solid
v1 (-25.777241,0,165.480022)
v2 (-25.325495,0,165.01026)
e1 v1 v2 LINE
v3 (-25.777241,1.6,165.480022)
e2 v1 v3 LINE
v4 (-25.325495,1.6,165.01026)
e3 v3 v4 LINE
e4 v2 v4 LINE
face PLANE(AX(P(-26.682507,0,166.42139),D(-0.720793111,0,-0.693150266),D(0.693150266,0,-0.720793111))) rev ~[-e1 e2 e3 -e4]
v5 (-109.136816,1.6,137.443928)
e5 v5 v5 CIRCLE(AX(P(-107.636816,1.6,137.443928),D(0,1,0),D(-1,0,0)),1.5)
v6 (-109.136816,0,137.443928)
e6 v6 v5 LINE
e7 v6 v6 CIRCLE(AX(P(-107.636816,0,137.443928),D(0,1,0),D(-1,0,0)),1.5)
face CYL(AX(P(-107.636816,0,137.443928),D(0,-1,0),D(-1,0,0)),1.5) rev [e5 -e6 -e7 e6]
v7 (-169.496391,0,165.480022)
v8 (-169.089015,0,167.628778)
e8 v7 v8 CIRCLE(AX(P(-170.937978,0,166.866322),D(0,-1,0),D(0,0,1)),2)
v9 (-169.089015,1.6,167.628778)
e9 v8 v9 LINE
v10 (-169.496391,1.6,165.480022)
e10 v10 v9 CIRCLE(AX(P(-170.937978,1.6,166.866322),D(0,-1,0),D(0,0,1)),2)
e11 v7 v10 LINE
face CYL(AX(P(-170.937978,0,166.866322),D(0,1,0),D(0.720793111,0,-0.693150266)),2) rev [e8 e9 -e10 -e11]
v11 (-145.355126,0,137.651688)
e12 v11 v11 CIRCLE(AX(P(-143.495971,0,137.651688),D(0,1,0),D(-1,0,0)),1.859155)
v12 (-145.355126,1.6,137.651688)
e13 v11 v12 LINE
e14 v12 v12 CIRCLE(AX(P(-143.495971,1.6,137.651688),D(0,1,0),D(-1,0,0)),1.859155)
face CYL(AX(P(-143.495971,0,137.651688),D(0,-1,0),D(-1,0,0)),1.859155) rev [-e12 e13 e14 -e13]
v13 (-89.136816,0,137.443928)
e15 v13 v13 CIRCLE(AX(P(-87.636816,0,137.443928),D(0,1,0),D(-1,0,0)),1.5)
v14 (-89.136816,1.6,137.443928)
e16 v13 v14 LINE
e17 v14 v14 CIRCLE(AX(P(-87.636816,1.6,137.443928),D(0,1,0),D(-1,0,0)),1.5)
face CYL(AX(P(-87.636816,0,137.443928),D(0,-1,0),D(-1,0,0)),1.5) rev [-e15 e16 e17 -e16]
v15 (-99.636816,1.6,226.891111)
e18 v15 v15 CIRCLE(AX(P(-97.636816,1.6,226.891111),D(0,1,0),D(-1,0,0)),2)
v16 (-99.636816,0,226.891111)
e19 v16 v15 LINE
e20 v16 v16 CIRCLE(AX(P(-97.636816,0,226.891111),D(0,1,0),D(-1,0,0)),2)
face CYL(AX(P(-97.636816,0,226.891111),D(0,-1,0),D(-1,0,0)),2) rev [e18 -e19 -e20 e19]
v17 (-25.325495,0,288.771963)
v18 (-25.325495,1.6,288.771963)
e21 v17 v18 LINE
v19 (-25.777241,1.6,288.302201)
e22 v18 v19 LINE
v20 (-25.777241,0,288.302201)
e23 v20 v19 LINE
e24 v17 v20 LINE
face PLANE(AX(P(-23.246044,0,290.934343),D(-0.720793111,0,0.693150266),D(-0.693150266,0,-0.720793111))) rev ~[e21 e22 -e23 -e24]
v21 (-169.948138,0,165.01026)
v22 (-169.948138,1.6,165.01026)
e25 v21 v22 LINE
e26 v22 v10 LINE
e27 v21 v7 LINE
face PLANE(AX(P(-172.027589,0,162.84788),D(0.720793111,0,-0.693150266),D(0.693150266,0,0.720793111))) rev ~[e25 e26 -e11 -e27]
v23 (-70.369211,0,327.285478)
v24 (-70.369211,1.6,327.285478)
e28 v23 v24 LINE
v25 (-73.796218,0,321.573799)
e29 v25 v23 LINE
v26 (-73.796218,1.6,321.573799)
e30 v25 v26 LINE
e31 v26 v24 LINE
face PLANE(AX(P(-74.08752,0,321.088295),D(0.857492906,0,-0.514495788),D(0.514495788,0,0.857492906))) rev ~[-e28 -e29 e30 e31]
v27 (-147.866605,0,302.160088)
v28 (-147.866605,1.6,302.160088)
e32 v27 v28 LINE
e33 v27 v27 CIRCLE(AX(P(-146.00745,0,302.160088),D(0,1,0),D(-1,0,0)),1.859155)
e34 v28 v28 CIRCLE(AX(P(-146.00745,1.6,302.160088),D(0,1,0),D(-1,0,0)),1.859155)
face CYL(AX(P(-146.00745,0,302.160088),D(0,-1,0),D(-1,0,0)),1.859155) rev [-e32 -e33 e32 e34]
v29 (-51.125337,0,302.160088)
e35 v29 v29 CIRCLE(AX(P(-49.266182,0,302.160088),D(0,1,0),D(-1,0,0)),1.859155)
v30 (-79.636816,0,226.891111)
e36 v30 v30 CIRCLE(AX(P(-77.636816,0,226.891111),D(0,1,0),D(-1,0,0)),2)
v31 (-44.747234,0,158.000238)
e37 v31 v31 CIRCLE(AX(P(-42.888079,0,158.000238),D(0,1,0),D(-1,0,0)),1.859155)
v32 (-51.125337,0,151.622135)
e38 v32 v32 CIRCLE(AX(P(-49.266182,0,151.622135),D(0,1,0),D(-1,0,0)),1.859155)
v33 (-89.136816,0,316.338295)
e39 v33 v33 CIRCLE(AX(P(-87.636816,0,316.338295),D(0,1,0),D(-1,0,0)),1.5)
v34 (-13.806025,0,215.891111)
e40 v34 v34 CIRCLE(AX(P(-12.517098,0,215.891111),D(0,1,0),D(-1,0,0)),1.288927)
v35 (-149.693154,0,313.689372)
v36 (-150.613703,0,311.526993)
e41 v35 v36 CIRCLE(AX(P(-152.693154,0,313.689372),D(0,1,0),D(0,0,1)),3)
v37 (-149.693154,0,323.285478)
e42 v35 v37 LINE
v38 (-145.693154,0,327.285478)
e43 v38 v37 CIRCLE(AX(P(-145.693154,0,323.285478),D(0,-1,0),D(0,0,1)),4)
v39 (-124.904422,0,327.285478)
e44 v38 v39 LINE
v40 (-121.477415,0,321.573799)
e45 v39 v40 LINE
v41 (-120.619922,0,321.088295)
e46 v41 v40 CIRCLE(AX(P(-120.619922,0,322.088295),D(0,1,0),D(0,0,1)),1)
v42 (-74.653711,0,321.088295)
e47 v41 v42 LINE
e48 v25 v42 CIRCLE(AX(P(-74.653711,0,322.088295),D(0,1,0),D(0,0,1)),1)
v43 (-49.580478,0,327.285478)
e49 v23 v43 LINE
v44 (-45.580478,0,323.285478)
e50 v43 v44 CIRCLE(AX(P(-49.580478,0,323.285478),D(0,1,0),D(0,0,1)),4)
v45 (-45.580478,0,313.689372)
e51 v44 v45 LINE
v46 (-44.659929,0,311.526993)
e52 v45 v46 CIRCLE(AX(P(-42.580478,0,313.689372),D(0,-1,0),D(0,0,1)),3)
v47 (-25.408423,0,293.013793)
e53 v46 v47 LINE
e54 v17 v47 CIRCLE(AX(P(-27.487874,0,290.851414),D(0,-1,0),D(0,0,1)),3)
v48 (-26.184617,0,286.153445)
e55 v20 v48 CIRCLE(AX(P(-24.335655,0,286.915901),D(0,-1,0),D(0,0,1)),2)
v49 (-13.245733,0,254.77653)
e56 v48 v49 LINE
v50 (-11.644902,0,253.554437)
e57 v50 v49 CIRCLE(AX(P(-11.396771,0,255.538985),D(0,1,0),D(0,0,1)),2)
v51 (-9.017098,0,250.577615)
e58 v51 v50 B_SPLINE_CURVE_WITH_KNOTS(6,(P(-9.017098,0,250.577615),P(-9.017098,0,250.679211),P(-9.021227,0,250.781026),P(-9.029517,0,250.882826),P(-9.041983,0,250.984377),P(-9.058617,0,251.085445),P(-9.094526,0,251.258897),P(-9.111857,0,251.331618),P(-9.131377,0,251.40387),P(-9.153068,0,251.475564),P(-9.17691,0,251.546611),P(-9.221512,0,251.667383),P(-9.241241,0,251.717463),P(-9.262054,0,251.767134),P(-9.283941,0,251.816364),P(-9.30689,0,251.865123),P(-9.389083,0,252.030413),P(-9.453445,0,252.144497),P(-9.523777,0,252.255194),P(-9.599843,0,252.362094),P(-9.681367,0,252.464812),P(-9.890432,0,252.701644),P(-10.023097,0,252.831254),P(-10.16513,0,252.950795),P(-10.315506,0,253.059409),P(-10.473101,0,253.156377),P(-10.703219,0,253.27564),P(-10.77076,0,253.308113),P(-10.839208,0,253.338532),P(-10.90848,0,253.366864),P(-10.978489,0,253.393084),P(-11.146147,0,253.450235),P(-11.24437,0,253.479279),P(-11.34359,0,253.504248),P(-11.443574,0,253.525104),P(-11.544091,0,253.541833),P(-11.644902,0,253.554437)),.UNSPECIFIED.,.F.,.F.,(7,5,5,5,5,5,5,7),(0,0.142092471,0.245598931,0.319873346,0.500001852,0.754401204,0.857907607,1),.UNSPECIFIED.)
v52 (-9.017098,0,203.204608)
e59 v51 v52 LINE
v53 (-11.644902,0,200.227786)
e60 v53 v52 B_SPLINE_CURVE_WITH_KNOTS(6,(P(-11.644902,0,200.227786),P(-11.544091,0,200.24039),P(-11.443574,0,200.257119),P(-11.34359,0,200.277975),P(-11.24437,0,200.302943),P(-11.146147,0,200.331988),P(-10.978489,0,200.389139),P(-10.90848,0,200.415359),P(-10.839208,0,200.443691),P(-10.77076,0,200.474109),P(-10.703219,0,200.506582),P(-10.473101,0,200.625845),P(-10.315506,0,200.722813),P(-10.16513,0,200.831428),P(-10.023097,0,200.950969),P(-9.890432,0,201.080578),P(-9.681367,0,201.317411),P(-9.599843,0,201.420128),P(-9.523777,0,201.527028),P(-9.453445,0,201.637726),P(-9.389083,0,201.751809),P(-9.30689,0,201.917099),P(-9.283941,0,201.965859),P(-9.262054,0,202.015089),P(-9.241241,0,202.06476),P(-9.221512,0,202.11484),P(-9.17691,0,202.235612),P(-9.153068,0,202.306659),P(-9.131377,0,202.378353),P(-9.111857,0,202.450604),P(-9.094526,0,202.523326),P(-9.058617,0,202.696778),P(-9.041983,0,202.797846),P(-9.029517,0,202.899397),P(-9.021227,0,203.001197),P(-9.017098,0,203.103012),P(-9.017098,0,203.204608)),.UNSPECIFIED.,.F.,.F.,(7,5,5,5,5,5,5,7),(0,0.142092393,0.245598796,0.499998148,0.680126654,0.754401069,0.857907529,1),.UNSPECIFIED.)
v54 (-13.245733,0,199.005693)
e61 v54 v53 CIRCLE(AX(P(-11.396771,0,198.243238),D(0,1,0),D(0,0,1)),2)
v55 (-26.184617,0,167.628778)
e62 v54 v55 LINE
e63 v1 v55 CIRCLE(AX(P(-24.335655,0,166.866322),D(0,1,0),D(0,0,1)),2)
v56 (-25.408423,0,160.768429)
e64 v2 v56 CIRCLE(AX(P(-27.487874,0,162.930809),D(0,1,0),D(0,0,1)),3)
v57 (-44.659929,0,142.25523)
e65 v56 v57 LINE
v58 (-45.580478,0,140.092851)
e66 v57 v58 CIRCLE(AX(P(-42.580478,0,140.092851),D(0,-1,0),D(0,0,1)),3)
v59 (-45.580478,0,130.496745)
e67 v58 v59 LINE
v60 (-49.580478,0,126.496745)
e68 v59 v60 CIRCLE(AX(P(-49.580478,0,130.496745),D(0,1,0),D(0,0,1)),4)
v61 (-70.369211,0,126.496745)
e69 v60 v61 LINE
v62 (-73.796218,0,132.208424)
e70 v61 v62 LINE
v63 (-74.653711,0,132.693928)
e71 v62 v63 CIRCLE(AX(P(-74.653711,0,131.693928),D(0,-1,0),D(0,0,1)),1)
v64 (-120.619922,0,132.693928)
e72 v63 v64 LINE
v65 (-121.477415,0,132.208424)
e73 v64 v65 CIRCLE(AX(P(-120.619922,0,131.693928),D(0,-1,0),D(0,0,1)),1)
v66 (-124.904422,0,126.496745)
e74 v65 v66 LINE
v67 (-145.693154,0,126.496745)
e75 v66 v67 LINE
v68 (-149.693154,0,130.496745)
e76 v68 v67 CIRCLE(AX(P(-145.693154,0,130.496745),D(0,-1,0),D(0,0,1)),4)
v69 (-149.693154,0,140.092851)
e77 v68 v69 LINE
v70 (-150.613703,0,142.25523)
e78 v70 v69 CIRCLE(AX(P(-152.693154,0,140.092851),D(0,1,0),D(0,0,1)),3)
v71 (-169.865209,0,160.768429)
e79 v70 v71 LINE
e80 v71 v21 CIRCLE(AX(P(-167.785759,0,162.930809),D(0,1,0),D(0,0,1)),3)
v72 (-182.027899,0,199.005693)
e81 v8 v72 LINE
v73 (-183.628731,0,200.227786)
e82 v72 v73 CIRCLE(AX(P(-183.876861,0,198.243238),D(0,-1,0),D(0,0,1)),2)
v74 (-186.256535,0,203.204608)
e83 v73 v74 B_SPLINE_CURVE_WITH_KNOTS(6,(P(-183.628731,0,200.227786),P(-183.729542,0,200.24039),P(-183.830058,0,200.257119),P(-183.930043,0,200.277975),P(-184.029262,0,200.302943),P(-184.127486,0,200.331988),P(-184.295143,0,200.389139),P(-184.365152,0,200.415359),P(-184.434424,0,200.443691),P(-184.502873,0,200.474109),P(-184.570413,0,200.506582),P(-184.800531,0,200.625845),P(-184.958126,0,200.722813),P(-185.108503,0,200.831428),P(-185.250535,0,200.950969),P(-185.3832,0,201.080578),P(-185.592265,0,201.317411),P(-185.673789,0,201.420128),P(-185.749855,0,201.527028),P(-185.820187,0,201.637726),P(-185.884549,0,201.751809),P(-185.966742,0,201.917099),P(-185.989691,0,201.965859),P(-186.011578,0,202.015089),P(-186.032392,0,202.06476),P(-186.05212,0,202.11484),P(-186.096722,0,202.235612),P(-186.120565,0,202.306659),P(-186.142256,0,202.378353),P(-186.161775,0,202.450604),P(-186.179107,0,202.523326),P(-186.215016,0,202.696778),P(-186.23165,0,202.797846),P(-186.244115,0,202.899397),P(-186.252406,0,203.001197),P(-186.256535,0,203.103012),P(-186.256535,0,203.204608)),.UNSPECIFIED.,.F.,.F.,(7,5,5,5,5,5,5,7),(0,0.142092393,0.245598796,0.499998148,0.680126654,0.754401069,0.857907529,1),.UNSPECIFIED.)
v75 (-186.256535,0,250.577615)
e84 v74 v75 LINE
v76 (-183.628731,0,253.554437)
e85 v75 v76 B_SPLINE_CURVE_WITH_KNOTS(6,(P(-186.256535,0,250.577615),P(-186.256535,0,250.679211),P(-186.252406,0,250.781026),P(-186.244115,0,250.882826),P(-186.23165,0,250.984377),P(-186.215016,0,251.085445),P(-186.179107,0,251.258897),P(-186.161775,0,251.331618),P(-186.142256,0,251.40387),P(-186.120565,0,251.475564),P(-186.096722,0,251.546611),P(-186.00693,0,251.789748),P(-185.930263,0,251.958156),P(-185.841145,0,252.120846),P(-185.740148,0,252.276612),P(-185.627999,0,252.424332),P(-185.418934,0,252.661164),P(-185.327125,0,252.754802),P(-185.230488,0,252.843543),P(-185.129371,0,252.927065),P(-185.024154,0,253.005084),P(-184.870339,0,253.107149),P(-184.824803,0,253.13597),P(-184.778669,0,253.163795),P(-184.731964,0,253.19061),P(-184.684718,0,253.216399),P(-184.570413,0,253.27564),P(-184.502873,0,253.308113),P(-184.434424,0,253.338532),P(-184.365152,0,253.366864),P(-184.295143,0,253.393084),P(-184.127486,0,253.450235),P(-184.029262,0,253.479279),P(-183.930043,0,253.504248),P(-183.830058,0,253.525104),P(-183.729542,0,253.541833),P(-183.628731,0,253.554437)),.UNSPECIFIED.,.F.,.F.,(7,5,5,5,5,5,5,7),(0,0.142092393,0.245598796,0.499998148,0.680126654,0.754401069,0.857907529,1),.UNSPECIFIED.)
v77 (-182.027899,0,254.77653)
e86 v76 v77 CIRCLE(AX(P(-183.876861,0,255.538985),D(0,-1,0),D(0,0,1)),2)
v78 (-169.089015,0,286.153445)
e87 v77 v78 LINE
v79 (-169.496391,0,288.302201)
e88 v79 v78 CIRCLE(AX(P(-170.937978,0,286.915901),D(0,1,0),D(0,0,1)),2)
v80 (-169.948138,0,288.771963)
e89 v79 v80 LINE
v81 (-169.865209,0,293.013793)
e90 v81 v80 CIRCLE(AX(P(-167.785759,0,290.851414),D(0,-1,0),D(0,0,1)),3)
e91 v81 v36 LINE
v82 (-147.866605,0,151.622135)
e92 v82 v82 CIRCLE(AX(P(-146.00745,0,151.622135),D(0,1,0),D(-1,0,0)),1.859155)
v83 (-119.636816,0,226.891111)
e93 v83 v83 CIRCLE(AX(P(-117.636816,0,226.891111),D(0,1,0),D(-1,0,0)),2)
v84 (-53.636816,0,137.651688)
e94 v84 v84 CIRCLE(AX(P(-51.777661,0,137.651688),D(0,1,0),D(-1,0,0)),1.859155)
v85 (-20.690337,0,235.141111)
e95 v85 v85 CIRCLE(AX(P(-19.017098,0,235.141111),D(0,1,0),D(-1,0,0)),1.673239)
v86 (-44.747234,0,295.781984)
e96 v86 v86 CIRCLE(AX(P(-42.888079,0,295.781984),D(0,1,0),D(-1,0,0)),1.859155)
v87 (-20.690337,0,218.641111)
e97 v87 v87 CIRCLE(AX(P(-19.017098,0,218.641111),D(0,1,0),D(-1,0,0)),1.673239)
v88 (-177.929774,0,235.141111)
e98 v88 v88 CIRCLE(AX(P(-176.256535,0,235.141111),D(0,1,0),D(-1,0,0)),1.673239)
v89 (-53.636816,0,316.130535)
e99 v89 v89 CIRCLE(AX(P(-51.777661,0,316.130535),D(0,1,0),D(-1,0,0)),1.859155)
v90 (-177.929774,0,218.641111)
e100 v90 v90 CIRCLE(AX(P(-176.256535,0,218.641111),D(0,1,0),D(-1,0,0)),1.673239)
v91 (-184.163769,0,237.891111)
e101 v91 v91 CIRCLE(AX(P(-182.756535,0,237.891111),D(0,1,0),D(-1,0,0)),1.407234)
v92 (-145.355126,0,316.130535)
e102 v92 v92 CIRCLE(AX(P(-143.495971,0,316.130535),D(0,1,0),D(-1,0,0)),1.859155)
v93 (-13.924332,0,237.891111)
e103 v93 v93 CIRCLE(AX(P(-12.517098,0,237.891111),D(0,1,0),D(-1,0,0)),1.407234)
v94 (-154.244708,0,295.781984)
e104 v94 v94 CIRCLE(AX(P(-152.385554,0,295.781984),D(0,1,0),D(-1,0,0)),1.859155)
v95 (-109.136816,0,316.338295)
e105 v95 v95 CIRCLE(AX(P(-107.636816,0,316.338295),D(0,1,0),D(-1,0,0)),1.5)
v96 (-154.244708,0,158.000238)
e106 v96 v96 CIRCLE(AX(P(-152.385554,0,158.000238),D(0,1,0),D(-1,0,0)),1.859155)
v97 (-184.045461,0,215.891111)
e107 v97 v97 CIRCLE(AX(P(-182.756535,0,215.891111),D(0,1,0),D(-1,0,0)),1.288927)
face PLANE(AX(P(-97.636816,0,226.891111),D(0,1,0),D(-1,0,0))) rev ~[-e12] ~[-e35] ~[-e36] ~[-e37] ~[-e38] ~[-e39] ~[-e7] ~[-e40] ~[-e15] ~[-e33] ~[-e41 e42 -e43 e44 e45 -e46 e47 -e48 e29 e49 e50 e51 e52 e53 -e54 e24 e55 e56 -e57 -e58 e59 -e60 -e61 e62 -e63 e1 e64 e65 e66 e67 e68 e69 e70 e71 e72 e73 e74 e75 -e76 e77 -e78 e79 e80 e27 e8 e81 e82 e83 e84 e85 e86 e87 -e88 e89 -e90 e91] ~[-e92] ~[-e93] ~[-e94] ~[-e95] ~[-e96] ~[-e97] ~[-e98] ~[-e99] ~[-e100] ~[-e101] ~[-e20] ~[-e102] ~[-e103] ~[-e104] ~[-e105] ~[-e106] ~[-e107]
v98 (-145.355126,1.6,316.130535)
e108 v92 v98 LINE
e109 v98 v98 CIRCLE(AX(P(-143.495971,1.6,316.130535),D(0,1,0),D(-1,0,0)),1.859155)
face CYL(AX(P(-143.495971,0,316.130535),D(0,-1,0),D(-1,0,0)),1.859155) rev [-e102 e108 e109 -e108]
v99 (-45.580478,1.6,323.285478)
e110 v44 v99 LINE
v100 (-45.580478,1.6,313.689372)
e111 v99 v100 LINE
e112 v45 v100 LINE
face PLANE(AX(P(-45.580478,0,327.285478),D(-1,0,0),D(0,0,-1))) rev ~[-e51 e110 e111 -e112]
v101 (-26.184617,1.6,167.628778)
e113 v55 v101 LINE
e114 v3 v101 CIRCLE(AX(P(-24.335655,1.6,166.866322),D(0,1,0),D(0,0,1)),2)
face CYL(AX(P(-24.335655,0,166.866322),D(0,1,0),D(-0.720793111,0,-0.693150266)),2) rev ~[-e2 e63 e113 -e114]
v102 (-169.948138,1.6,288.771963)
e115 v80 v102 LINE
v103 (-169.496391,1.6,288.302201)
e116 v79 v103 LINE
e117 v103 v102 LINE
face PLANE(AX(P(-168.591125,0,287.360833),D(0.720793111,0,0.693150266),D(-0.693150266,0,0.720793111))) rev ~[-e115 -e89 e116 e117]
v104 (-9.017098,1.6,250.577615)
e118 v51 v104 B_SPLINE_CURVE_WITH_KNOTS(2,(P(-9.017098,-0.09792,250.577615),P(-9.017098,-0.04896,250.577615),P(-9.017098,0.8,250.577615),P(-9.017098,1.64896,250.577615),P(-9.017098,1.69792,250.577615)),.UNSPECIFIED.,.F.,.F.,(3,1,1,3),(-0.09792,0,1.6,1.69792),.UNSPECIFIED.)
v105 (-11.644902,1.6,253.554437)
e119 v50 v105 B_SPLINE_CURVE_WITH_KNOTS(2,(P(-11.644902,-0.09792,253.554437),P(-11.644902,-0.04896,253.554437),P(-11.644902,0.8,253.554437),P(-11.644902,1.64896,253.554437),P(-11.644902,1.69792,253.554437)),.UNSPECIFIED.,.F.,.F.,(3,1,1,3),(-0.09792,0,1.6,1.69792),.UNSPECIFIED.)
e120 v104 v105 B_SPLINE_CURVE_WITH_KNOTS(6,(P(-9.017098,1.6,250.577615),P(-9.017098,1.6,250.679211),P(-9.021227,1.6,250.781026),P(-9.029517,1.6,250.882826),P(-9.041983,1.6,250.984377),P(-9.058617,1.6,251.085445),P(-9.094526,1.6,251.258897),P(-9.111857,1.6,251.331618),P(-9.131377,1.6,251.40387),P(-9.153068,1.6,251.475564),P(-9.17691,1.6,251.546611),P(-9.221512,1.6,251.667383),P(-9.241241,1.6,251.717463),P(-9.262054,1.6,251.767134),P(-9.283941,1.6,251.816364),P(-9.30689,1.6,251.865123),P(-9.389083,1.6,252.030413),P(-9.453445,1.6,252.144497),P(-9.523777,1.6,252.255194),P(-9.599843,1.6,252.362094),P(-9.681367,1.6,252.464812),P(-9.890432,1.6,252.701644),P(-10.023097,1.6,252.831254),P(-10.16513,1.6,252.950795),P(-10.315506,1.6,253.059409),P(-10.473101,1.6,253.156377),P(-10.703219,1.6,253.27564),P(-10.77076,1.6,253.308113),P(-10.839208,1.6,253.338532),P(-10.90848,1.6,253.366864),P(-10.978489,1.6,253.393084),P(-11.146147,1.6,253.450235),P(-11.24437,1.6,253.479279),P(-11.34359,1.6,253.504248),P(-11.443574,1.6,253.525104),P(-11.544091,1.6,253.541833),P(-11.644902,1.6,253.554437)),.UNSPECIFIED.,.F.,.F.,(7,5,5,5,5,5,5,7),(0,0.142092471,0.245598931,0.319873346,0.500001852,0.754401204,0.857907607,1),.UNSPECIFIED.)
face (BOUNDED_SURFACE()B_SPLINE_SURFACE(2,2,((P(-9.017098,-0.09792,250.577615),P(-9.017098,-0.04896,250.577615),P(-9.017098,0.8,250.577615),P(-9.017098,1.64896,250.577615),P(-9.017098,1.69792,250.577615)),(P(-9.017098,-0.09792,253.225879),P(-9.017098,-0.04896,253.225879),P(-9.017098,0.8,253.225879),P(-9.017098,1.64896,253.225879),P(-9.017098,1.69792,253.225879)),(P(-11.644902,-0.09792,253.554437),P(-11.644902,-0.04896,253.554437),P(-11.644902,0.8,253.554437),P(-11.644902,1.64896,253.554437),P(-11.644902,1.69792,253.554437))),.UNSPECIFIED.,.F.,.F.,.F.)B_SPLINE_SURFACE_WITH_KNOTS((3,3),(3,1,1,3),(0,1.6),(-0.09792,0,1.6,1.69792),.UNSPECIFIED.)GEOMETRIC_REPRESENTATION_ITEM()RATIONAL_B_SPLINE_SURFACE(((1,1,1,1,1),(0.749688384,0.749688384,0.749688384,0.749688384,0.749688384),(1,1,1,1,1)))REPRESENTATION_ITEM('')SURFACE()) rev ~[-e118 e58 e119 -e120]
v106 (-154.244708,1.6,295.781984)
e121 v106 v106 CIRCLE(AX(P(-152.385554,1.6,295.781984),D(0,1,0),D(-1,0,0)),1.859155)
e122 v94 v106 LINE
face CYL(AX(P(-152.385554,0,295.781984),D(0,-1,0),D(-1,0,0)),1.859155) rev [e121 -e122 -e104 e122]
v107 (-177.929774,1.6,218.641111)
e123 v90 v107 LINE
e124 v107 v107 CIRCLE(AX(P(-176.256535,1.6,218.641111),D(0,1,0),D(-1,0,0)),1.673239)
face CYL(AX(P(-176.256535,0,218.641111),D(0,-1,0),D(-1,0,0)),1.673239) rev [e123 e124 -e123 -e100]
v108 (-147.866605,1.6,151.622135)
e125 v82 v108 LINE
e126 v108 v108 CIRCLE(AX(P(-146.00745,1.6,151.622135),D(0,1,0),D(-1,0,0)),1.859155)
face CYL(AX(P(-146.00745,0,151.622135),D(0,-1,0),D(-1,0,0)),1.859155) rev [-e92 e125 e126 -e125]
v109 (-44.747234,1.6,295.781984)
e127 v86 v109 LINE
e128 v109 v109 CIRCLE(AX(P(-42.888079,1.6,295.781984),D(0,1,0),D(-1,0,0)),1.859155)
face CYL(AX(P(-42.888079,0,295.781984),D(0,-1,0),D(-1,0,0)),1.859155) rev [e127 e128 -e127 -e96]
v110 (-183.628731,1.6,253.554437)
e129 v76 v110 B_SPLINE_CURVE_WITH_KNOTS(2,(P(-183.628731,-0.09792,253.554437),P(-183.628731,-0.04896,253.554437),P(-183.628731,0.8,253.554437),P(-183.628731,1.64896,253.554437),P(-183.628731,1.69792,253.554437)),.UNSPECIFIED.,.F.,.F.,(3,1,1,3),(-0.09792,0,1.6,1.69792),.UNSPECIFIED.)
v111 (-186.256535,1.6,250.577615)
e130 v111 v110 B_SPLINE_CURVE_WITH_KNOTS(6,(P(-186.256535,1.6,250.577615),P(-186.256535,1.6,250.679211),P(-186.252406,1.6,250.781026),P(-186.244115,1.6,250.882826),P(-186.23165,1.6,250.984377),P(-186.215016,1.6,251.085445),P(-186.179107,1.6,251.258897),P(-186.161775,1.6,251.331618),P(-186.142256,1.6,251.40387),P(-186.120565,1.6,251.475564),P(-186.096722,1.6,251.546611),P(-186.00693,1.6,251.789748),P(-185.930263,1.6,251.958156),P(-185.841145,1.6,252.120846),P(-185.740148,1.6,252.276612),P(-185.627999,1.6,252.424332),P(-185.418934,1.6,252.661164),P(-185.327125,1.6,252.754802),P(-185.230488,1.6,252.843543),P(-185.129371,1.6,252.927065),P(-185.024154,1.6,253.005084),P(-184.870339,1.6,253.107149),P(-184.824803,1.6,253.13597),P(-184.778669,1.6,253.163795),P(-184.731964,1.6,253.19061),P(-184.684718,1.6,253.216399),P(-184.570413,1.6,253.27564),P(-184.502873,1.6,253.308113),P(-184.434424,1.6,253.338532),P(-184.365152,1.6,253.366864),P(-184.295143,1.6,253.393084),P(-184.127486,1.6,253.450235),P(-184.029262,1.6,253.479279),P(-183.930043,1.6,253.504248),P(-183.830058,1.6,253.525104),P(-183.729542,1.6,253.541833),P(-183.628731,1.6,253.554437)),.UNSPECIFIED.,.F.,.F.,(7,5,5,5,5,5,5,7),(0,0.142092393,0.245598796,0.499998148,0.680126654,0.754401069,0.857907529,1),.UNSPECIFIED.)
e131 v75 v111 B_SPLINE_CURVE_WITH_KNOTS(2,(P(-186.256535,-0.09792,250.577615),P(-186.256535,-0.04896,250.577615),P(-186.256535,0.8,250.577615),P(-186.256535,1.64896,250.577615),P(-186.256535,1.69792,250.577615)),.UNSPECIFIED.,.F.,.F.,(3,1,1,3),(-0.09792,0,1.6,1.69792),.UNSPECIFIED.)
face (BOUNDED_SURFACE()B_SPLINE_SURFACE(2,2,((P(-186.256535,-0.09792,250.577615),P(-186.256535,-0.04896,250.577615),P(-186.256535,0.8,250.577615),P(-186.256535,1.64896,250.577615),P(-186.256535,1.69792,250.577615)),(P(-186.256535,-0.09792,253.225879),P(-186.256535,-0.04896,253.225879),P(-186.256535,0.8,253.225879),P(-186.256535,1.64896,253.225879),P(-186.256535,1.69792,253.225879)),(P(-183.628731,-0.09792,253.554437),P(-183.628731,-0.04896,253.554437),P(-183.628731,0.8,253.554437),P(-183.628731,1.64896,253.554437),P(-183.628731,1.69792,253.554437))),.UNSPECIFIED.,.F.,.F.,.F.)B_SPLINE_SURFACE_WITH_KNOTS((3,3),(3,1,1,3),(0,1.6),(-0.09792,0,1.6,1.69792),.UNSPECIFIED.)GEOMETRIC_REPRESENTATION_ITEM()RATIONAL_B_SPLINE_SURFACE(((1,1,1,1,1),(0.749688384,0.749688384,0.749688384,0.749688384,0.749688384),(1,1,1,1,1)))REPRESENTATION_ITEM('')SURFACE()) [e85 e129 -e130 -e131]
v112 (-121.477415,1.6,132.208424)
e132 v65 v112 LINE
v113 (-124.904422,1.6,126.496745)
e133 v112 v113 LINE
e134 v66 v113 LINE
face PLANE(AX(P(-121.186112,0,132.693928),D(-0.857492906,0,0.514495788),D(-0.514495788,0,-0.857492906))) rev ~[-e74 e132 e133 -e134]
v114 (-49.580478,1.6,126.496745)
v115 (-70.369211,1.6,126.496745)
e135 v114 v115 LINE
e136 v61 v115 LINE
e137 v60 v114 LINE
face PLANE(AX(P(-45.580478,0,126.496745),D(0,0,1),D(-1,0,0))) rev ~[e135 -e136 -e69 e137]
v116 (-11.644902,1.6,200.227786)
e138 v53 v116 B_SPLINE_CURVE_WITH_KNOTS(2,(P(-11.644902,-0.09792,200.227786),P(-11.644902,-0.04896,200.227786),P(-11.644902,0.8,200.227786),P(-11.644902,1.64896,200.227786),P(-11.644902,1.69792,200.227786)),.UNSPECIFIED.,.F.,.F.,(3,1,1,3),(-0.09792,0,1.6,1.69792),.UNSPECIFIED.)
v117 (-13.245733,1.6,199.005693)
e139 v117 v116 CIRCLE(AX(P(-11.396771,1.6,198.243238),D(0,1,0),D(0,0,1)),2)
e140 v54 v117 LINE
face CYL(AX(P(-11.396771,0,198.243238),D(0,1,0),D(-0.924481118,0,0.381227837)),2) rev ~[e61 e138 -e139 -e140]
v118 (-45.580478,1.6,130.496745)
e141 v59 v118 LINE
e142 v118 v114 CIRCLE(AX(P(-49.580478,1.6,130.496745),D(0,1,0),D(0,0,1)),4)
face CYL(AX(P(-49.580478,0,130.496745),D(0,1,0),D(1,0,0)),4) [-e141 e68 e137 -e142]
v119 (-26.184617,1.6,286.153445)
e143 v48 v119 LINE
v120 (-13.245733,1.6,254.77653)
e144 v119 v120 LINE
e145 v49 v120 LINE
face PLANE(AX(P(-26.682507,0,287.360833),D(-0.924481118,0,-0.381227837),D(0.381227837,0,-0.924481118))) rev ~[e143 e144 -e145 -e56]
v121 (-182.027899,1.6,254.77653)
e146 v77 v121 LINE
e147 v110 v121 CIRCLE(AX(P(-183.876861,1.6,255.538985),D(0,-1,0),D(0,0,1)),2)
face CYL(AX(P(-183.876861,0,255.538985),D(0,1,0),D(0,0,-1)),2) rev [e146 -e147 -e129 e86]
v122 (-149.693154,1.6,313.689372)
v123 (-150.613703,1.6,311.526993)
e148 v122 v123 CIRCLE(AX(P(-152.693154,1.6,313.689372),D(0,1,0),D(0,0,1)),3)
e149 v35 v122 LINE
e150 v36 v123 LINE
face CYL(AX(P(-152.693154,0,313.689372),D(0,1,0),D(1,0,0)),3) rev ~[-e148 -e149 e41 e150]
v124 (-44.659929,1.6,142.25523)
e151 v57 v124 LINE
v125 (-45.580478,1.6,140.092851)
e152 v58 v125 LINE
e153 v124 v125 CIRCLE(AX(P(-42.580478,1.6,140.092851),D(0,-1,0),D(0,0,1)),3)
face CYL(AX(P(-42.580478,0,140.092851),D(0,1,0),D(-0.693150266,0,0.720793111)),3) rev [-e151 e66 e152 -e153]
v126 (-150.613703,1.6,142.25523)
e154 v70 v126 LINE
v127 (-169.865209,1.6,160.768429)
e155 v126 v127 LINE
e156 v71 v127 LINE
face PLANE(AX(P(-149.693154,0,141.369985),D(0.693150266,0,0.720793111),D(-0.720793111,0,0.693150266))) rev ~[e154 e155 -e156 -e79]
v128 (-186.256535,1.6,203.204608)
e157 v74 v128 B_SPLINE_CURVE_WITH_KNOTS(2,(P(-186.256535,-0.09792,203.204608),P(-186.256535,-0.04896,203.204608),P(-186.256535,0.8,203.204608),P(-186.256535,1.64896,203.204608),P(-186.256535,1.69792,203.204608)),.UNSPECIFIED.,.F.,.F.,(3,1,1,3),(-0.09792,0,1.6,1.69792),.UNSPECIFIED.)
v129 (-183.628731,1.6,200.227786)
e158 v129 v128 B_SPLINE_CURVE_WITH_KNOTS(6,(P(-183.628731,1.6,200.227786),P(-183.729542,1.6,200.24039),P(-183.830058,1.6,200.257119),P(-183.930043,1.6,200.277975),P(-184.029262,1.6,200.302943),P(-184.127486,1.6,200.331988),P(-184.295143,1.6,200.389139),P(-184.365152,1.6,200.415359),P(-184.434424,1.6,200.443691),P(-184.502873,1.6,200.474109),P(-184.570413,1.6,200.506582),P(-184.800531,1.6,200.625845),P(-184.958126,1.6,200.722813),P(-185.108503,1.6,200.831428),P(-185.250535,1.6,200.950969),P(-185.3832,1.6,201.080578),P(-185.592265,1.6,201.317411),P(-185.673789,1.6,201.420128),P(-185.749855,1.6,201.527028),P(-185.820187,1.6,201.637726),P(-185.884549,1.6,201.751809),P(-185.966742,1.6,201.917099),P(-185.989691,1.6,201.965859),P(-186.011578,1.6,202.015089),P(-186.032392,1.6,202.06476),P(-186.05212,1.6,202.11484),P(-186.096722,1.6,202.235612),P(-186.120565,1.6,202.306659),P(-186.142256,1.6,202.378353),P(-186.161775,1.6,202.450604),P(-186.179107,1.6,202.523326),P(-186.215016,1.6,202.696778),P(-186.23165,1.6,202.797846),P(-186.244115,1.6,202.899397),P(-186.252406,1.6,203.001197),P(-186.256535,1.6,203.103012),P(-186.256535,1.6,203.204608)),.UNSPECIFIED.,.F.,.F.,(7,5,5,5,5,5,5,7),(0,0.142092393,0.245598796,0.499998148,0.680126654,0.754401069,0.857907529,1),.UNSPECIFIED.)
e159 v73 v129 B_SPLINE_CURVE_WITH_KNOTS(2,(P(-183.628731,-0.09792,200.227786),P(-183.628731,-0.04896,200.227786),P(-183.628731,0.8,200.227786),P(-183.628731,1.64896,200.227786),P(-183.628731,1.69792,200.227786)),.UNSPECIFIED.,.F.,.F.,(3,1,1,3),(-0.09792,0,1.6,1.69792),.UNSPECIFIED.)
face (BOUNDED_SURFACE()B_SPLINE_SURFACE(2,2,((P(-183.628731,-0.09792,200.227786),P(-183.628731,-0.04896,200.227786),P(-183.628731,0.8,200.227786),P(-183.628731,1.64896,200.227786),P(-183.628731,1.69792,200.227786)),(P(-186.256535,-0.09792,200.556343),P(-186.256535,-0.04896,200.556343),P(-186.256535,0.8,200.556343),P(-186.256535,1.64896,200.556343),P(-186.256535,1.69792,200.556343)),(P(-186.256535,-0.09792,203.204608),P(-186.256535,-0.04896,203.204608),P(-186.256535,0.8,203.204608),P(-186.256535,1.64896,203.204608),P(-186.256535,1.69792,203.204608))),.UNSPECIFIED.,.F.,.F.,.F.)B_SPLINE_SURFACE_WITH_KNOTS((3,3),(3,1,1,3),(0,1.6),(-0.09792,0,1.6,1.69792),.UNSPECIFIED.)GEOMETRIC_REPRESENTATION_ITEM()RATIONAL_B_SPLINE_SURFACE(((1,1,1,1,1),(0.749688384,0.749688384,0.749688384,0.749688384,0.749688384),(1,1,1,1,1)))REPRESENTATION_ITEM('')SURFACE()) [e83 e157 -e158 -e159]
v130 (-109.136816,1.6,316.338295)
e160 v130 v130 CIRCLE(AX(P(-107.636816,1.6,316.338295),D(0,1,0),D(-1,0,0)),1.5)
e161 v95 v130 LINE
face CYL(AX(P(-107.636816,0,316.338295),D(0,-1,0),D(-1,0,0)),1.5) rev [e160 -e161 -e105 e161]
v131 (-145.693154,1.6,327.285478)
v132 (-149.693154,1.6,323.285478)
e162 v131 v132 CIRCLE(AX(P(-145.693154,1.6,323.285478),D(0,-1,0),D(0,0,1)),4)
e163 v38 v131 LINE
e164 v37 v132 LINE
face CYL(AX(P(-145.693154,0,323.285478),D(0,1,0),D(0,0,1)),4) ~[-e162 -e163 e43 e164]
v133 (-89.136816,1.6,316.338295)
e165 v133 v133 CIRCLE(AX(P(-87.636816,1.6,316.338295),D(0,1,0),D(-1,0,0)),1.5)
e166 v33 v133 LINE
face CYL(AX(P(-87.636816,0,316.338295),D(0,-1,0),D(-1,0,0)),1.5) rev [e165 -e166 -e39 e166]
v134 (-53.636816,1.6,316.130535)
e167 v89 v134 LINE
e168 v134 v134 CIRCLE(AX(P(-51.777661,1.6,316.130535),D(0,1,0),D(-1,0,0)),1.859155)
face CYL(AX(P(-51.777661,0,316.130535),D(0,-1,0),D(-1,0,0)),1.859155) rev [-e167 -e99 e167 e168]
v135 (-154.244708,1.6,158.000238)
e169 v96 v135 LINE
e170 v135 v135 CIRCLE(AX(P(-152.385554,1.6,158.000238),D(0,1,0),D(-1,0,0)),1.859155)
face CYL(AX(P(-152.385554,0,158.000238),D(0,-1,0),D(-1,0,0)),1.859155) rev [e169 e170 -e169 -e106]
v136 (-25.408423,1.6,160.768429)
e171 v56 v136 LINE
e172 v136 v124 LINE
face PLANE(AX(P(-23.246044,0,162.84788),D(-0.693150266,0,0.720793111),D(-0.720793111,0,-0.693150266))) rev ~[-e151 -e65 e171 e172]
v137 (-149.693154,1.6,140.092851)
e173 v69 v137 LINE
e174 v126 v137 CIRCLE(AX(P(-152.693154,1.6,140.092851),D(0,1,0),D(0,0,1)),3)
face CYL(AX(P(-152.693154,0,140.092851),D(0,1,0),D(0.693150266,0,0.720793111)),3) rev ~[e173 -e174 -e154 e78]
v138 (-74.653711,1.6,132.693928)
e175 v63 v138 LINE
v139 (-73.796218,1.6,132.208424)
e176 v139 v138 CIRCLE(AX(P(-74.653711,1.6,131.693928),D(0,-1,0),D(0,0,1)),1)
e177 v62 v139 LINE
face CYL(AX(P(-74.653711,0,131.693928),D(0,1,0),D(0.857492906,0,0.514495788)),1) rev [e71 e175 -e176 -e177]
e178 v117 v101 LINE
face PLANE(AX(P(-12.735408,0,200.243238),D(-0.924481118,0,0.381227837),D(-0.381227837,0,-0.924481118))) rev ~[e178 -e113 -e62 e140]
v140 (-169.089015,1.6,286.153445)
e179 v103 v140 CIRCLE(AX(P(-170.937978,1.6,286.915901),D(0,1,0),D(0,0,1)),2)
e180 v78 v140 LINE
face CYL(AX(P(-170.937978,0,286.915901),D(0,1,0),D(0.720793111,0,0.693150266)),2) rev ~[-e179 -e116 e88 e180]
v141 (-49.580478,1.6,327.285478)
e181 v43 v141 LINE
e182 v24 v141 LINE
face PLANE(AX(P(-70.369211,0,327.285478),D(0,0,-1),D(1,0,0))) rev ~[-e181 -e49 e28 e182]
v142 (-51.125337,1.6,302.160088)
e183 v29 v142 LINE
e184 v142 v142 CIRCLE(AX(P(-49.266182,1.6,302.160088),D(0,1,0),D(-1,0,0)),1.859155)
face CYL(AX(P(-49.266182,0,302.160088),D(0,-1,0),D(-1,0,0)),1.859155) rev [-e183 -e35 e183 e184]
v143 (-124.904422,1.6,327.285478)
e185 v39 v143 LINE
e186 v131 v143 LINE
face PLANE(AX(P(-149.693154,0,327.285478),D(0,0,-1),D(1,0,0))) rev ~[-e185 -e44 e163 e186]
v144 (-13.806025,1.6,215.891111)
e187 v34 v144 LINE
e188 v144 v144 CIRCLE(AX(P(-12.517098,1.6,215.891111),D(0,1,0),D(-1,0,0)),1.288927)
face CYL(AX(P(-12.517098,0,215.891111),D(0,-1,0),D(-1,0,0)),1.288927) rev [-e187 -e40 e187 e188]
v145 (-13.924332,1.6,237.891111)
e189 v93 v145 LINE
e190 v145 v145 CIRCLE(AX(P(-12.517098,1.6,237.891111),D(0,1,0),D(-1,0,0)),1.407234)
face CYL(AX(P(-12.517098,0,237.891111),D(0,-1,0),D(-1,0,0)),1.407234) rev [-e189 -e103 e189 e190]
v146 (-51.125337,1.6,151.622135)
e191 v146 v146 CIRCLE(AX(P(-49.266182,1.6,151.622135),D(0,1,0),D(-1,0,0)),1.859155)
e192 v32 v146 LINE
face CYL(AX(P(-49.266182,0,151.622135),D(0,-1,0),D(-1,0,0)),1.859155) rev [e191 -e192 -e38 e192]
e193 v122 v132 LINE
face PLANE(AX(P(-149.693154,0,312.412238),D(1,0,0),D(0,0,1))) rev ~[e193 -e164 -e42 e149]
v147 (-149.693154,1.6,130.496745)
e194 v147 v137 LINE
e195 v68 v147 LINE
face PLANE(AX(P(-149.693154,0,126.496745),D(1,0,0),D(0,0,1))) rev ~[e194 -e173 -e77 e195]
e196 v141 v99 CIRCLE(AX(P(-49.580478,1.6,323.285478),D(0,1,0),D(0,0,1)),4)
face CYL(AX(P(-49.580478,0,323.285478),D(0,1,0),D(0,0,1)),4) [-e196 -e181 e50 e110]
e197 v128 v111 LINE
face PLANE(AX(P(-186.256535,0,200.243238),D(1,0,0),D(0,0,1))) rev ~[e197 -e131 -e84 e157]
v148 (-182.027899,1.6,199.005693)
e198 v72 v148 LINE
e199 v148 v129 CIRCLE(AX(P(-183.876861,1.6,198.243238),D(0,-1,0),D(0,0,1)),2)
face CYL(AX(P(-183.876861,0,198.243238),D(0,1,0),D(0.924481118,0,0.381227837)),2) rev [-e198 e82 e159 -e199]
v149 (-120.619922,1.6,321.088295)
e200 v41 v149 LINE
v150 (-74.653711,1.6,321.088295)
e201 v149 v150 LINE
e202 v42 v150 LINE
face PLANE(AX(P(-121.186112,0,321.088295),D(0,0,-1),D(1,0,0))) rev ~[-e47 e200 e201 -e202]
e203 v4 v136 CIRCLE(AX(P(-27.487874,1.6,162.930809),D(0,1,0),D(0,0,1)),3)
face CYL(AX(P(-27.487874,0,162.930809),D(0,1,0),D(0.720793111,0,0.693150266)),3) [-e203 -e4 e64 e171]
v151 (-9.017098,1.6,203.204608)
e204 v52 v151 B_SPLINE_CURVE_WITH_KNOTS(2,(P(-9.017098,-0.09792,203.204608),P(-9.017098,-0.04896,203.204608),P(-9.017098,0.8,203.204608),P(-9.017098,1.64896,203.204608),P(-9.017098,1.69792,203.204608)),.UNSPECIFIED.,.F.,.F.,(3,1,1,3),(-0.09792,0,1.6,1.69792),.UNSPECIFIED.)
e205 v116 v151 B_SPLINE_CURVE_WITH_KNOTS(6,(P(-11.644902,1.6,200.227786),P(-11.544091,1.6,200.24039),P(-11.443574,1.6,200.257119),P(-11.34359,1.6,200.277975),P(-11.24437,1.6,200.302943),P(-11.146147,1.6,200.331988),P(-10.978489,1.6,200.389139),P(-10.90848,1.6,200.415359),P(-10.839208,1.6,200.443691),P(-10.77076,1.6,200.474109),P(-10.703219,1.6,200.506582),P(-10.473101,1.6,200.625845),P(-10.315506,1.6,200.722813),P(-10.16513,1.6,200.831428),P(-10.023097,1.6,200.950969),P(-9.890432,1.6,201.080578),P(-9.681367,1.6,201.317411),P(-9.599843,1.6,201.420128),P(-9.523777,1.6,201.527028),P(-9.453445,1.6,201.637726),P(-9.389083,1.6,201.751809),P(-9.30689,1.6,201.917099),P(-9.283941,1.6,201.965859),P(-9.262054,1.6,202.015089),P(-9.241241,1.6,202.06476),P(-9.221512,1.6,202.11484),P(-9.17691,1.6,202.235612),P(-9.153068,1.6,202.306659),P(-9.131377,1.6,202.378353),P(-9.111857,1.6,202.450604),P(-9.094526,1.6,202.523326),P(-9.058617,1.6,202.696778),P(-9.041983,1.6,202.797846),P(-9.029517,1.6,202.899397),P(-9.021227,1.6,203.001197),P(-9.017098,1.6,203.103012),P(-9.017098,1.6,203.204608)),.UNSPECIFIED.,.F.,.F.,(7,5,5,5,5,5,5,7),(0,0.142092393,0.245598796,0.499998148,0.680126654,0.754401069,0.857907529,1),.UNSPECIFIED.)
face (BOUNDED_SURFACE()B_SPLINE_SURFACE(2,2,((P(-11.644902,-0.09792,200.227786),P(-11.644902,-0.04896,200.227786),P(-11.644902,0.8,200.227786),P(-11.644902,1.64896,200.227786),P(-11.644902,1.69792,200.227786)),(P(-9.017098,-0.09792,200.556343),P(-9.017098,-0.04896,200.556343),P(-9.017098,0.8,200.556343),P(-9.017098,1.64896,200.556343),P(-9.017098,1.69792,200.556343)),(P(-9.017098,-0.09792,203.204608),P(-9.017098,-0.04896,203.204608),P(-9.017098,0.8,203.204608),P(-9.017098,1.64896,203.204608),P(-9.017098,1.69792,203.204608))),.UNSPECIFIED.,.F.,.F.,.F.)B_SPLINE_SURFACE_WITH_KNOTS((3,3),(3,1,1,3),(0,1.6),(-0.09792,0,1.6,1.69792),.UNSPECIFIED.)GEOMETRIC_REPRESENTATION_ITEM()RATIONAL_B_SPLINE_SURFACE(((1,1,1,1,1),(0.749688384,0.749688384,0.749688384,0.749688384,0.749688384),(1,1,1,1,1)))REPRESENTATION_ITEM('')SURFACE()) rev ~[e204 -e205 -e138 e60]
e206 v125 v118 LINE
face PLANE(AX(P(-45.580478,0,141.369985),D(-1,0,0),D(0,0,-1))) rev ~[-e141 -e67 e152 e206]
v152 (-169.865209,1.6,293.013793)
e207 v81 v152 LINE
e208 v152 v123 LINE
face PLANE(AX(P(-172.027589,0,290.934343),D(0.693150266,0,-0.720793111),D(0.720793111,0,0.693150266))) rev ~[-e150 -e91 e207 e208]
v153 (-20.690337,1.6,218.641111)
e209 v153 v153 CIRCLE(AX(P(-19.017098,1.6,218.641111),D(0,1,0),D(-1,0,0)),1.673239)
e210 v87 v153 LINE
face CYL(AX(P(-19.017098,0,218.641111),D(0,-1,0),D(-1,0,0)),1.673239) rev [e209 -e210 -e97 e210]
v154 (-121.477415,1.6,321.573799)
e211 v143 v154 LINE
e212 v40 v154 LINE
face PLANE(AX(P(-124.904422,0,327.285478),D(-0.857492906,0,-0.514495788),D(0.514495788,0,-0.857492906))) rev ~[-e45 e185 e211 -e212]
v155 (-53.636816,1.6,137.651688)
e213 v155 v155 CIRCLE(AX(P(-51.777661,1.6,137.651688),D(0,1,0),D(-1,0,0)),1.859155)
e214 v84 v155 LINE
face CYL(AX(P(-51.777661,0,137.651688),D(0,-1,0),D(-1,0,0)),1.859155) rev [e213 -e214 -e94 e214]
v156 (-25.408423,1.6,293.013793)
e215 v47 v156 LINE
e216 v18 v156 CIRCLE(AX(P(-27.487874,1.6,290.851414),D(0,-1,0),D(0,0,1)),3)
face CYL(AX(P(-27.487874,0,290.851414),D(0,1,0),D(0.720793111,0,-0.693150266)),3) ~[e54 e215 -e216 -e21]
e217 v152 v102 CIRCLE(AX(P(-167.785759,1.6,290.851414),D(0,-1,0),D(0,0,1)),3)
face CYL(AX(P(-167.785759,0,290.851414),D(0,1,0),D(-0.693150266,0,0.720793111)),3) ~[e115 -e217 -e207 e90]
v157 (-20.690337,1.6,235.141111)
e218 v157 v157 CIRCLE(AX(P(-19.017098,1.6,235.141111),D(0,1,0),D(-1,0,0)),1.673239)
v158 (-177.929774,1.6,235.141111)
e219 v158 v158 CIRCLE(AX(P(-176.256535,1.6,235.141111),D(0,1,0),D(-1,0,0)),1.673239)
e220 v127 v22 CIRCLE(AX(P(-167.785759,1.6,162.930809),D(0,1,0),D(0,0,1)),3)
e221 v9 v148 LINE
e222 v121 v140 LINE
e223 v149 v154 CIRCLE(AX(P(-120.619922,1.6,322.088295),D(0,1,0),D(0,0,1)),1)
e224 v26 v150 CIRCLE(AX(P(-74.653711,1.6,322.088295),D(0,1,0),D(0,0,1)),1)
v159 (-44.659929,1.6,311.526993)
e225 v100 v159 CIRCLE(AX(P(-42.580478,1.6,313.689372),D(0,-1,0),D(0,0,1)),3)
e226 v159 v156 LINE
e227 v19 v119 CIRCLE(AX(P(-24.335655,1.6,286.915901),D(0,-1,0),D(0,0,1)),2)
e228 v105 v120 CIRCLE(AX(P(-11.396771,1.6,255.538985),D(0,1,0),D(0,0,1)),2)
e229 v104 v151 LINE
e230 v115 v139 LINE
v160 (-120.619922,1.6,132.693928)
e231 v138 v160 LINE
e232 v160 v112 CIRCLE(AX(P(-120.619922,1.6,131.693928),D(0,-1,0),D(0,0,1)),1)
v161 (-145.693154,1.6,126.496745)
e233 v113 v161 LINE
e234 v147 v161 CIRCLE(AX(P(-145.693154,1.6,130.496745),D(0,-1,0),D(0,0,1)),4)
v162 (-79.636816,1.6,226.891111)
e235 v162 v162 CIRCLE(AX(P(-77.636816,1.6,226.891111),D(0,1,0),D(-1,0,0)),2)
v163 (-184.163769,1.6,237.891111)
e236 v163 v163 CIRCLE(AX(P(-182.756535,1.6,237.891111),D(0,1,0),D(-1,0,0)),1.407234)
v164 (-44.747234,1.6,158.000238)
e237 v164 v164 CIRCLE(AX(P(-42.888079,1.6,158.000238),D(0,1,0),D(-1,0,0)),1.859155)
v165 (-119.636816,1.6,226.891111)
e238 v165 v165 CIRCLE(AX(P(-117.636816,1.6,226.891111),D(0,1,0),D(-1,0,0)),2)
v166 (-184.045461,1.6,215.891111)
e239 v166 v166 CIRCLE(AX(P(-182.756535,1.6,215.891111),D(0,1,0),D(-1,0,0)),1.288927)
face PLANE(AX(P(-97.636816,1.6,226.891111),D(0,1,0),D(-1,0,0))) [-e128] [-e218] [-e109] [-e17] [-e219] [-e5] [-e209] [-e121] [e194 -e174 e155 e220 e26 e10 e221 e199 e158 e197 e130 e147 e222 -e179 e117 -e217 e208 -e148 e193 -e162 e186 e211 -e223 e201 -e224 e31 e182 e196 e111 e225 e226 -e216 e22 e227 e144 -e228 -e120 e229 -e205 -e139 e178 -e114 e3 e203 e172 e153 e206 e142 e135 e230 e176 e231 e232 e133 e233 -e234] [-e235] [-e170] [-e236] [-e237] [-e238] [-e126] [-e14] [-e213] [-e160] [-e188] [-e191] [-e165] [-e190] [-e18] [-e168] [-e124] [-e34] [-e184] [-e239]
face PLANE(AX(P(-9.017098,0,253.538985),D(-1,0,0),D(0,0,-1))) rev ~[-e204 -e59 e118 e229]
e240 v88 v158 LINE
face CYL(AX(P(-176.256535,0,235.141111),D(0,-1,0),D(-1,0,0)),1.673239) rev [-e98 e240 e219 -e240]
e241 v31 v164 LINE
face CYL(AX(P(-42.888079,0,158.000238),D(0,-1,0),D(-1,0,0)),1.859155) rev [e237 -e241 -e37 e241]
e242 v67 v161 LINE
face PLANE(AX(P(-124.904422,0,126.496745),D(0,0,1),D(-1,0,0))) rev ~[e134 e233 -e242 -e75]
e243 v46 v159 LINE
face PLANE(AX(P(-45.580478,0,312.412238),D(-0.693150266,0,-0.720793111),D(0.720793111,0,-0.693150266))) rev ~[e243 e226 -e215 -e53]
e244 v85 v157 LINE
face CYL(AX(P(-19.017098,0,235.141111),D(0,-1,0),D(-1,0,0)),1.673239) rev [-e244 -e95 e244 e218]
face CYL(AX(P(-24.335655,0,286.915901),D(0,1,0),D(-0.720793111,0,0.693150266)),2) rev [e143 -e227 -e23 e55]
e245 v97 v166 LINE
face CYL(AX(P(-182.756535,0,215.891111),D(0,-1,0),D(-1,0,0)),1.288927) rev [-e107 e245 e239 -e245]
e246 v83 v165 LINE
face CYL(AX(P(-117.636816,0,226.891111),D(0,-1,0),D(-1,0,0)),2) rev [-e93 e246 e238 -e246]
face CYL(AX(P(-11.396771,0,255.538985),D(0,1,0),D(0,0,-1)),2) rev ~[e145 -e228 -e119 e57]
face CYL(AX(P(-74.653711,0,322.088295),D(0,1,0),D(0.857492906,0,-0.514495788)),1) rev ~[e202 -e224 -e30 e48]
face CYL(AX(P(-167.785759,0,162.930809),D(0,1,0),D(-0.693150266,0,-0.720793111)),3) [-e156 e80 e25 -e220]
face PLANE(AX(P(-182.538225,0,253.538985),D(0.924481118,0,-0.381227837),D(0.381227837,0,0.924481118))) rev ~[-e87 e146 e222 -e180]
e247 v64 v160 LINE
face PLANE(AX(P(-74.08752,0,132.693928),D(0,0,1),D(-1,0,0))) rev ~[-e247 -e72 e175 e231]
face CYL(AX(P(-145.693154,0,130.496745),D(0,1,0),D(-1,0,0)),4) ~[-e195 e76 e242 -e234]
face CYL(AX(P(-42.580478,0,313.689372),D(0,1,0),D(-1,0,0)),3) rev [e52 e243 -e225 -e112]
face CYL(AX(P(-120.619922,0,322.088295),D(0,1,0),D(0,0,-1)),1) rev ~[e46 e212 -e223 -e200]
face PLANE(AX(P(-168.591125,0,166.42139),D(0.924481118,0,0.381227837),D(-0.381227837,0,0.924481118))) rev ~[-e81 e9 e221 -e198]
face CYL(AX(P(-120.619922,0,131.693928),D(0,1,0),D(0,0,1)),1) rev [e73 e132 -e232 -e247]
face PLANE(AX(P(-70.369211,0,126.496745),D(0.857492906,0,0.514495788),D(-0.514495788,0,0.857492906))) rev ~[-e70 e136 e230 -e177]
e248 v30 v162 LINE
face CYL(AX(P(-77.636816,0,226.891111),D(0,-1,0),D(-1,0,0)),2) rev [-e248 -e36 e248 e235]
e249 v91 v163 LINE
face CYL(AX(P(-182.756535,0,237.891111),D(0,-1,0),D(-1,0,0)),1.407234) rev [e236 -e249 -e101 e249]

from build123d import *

# Parameters (mm, degrees)
SKETCH1_R        = 1.85915493
SKETCH1_R_2      = 2
SKETCH1_R_3      = 1.28892694
SKETCH1_R_4      = 1.407234354
SKETCH1_R_5      = 1.5
SKETCH1_R_6      = 1.673239437
EXTRUSION1_DEPTH = 1.6
FILLET1_R        = 1
FILLET2_R        = 4
FILLET3_R        = 3
FILLET4_R        = 3
FILLET5_R        = 2
FILLET6_R        = 2
FILLET7_R        = 3
FILLET8_R        = 3
FILLET9_R        = 2
FILLET10_R       = 2
FILLET11_R       = 3


with BuildPart() as part:
    # Sketch1 → Extrusion1 (new body)
    with BuildSketch(Plane(origin=(0, 0, 0), x_dir=(-1, 0, 0), z_dir=(0, 1, 0))):
        Polygon((74.087520418, 321.088295015), (70.369210559, 327.285477572), (45.580478165, 327.285477572), (45.580478165, 312.412238135), (23.246043749, 290.934342561), (26.682507041, 287.360833055), (12.735407819, 253.538985229), (9.017097883, 253.538985229), (9.017097883, 226.891111382), (9.017097883, 200.243237534), (12.735407819, 200.243237534), (26.682507041, 166.421389708), (23.246043749, 162.847880202), (45.580478165, 141.369984628), (45.580478165, 126.496745191), (70.369210559, 126.496745191), (74.087520418, 132.693927748), (97.636816193, 132.693927748), (121.186111968, 132.693927748), (124.904421827, 126.496745191), (149.693154221, 126.496745191), (149.693154221, 141.369984628), (172.027588636, 162.847880202), (168.591125345, 166.421389708), (182.538224567, 200.243237534), (186.256534503, 200.243237534), (186.256534503, 226.891111382), (186.256534503, 253.538985229), (182.538224567, 253.538985229), (168.591125345, 287.360833055), (172.027588636, 290.934342561), (149.693154221, 312.412238135), (149.693154221, 327.285477572), (124.904421827, 327.285477572), (121.186111968, 321.088295015), (97.636816193, 321.088295015), align=None)
        with Locations((49.266182018, 151.62213525)):
            Circle(SKETCH1_R, mode=Mode.SUBTRACT)
        with Locations((117.636816193, 226.891111382)):
            Circle(SKETCH1_R_2, mode=Mode.SUBTRACT)
        with Locations((77.636816193, 226.891111382)):
            Circle(SKETCH1_R_2, mode=Mode.SUBTRACT)
        with Locations((97.636816193, 226.891111382)):
            Circle(SKETCH1_R_2, mode=Mode.SUBTRACT)
        with Locations((12.517097883, 215.891111382)):
            Circle(SKETCH1_R_3, mode=Mode.SUBTRACT)
        with Locations((12.517097883, 237.891111382)):
            Circle(SKETCH1_R_4, mode=Mode.SUBTRACT)
        with Locations((107.636816193, 316.338295015)):
            Circle(SKETCH1_R_5, mode=Mode.SUBTRACT)
        with Locations((87.636816193, 316.338295015)):
            Circle(SKETCH1_R_5, mode=Mode.SUBTRACT)
        with Locations((87.636816193, 137.443927748)):
            Circle(SKETCH1_R_5, mode=Mode.SUBTRACT)
        with Locations((107.636816193, 137.443927748)):
            Circle(SKETCH1_R_5, mode=Mode.SUBTRACT)
        with Locations((182.756534503, 215.891111382)):
            Circle(SKETCH1_R_3, mode=Mode.SUBTRACT)
        with Locations((182.756534503, 237.891111382)):
            Circle(SKETCH1_R_4, mode=Mode.SUBTRACT)
        with Locations((176.256534503, 235.141111382)):
            Circle(SKETCH1_R_6, mode=Mode.SUBTRACT)
        with Locations((176.256534503, 218.641111382)):
            Circle(SKETCH1_R_6, mode=Mode.SUBTRACT)
        with Locations((51.777661187, 316.130534525)):
            Circle(SKETCH1_R, mode=Mode.SUBTRACT)
        with Locations((49.266182018, 302.160087513)):
            Circle(SKETCH1_R, mode=Mode.SUBTRACT)
        with Locations((19.017097883, 235.141111382)):
            Circle(SKETCH1_R_6, mode=Mode.SUBTRACT)
        with Locations((143.495971199, 137.651688238)):
            Circle(SKETCH1_R, mode=Mode.SUBTRACT)
        with Locations((146.007450368, 151.62213525)):
            Circle(SKETCH1_R, mode=Mode.SUBTRACT)
        with Locations((143.495971199, 316.130534525)):
            Circle(SKETCH1_R, mode=Mode.SUBTRACT)
        with Locations((146.007450368, 302.160087513)):
            Circle(SKETCH1_R, mode=Mode.SUBTRACT)
        with Locations((19.017097883, 218.641111382)):
            Circle(SKETCH1_R_6, mode=Mode.SUBTRACT)
        with Locations((51.777661187, 137.651688238)):
            Circle(SKETCH1_R, mode=Mode.SUBTRACT)
        with Locations((42.888078851, 158.000238416)):
            Circle(SKETCH1_R, mode=Mode.SUBTRACT)
        with Locations((152.385553534, 295.781984347)):
            Circle(SKETCH1_R, mode=Mode.SUBTRACT)
        with Locations((42.888078851, 295.781984347)):
            Circle(SKETCH1_R, mode=Mode.SUBTRACT)
        with Locations((152.385553534, 158.000238416)):
            Circle(SKETCH1_R, mode=Mode.SUBTRACT)
    extrude(amount=EXTRUSION1_DEPTH)

    # Fillet1
    fillet1_edges = [part.edges().sort_by_distance(p)[0] for p in [
        (-121.186111968, 0.8, 321.088295015),
        (-121.186111968, 0.8, 132.693927748),
        (-74.087520418, 0.8, 132.693927748),
        (-74.087520418, 0.8, 321.088295015),
    ]]
    fillet(fillet1_edges, radius=FILLET1_R)

    # Fillet2
    fillet2_edges = [part.edges().sort_by_distance(p)[0] for p in [
        (-149.693154221, 0.8, 327.285477572),
        (-149.693154221, 0.8, 126.496745191),
        (-45.580478165, 0.8, 126.496745191),
        (-45.580478165, 0.8, 327.285477572),
    ]]
    fillet(fillet2_edges, radius=FILLET2_R)

    # Fillet3
    fillet3_edges = [part.edges().sort_by_distance(p)[0] for p in [
        (-149.693154221, 0.8, 312.412238135),
        (-149.693154221, 0.8, 141.369984628),
        (-45.580478165, 0.8, 141.369984628),
        (-45.580478165, 0.8, 312.412238135),
    ]]
    fillet(fillet3_edges, radius=FILLET3_R)

    # Fillet4
    fillet4_edges = [part.edges().sort_by_distance(p)[0] for p in [
        (-172.027588636, 0.8, 290.934342561),
    ]]
    fillet(fillet4_edges, radius=FILLET4_R)

    # Fillet5
    fillet5_edges = [part.edges().sort_by_distance(p)[0] for p in [
        (-168.591125345, 0.8, 287.360833055),
    ]]
    fillet(fillet5_edges, radius=FILLET5_R)

    # Fillet6
    fillet6_edges = [part.edges().sort_by_distance(p)[0] for p in [
        (-26.682507041, 0.8, 287.360833055),
    ]]
    fillet(fillet6_edges, radius=FILLET6_R)

    # Fillet7
    fillet7_edges = [part.edges().sort_by_distance(p)[0] for p in [
        (-23.246043749, 0.8, 290.934342561),
    ]]
    fillet(fillet7_edges, radius=FILLET7_R)

    # Fillet8
    fillet8_edges = [part.edges().sort_by_distance(p)[0] for p in [
        (-172.027588636, 0.8, 162.847880202),
        (-23.246043749, 0.8, 162.847880202),
    ]]
    fillet(fillet8_edges, radius=FILLET8_R)

    # Fillet9
    fillet9_edges = [part.edges().sort_by_distance(p)[0] for p in [
        (-168.591125345, 0.8, 166.421389708),
        (-26.682507041, 0.8, 166.421389708),
    ]]
    fillet(fillet9_edges, radius=FILLET9_R)

    # Fillet10
    fillet10_edges = [part.edges().sort_by_distance(p)[0] for p in [
        (-182.538224567, 0.8, 253.538985229),
        (-182.538224567, 0.8, 200.243237534),
        (-12.735407819, 0.8, 200.243237534),
        (-12.735407819, 0.8, 253.538985229),
    ]]
    fillet(fillet10_edges, radius=FILLET10_R)

    # Fillet11
    fillet11_edges = [part.edges().sort_by_distance(p)[0] for p in [
        (-186.256534503, 0.8, 200.243237534),
        (-186.256534503, 0.8, 253.538985229),
        (-9.017097883, 0.8, 253.538985229),
        (-9.017097883, 0.8, 200.243237534),
    ]]
    fillet(fillet11_edges, radius=FILLET11_R)


solid = part.part
